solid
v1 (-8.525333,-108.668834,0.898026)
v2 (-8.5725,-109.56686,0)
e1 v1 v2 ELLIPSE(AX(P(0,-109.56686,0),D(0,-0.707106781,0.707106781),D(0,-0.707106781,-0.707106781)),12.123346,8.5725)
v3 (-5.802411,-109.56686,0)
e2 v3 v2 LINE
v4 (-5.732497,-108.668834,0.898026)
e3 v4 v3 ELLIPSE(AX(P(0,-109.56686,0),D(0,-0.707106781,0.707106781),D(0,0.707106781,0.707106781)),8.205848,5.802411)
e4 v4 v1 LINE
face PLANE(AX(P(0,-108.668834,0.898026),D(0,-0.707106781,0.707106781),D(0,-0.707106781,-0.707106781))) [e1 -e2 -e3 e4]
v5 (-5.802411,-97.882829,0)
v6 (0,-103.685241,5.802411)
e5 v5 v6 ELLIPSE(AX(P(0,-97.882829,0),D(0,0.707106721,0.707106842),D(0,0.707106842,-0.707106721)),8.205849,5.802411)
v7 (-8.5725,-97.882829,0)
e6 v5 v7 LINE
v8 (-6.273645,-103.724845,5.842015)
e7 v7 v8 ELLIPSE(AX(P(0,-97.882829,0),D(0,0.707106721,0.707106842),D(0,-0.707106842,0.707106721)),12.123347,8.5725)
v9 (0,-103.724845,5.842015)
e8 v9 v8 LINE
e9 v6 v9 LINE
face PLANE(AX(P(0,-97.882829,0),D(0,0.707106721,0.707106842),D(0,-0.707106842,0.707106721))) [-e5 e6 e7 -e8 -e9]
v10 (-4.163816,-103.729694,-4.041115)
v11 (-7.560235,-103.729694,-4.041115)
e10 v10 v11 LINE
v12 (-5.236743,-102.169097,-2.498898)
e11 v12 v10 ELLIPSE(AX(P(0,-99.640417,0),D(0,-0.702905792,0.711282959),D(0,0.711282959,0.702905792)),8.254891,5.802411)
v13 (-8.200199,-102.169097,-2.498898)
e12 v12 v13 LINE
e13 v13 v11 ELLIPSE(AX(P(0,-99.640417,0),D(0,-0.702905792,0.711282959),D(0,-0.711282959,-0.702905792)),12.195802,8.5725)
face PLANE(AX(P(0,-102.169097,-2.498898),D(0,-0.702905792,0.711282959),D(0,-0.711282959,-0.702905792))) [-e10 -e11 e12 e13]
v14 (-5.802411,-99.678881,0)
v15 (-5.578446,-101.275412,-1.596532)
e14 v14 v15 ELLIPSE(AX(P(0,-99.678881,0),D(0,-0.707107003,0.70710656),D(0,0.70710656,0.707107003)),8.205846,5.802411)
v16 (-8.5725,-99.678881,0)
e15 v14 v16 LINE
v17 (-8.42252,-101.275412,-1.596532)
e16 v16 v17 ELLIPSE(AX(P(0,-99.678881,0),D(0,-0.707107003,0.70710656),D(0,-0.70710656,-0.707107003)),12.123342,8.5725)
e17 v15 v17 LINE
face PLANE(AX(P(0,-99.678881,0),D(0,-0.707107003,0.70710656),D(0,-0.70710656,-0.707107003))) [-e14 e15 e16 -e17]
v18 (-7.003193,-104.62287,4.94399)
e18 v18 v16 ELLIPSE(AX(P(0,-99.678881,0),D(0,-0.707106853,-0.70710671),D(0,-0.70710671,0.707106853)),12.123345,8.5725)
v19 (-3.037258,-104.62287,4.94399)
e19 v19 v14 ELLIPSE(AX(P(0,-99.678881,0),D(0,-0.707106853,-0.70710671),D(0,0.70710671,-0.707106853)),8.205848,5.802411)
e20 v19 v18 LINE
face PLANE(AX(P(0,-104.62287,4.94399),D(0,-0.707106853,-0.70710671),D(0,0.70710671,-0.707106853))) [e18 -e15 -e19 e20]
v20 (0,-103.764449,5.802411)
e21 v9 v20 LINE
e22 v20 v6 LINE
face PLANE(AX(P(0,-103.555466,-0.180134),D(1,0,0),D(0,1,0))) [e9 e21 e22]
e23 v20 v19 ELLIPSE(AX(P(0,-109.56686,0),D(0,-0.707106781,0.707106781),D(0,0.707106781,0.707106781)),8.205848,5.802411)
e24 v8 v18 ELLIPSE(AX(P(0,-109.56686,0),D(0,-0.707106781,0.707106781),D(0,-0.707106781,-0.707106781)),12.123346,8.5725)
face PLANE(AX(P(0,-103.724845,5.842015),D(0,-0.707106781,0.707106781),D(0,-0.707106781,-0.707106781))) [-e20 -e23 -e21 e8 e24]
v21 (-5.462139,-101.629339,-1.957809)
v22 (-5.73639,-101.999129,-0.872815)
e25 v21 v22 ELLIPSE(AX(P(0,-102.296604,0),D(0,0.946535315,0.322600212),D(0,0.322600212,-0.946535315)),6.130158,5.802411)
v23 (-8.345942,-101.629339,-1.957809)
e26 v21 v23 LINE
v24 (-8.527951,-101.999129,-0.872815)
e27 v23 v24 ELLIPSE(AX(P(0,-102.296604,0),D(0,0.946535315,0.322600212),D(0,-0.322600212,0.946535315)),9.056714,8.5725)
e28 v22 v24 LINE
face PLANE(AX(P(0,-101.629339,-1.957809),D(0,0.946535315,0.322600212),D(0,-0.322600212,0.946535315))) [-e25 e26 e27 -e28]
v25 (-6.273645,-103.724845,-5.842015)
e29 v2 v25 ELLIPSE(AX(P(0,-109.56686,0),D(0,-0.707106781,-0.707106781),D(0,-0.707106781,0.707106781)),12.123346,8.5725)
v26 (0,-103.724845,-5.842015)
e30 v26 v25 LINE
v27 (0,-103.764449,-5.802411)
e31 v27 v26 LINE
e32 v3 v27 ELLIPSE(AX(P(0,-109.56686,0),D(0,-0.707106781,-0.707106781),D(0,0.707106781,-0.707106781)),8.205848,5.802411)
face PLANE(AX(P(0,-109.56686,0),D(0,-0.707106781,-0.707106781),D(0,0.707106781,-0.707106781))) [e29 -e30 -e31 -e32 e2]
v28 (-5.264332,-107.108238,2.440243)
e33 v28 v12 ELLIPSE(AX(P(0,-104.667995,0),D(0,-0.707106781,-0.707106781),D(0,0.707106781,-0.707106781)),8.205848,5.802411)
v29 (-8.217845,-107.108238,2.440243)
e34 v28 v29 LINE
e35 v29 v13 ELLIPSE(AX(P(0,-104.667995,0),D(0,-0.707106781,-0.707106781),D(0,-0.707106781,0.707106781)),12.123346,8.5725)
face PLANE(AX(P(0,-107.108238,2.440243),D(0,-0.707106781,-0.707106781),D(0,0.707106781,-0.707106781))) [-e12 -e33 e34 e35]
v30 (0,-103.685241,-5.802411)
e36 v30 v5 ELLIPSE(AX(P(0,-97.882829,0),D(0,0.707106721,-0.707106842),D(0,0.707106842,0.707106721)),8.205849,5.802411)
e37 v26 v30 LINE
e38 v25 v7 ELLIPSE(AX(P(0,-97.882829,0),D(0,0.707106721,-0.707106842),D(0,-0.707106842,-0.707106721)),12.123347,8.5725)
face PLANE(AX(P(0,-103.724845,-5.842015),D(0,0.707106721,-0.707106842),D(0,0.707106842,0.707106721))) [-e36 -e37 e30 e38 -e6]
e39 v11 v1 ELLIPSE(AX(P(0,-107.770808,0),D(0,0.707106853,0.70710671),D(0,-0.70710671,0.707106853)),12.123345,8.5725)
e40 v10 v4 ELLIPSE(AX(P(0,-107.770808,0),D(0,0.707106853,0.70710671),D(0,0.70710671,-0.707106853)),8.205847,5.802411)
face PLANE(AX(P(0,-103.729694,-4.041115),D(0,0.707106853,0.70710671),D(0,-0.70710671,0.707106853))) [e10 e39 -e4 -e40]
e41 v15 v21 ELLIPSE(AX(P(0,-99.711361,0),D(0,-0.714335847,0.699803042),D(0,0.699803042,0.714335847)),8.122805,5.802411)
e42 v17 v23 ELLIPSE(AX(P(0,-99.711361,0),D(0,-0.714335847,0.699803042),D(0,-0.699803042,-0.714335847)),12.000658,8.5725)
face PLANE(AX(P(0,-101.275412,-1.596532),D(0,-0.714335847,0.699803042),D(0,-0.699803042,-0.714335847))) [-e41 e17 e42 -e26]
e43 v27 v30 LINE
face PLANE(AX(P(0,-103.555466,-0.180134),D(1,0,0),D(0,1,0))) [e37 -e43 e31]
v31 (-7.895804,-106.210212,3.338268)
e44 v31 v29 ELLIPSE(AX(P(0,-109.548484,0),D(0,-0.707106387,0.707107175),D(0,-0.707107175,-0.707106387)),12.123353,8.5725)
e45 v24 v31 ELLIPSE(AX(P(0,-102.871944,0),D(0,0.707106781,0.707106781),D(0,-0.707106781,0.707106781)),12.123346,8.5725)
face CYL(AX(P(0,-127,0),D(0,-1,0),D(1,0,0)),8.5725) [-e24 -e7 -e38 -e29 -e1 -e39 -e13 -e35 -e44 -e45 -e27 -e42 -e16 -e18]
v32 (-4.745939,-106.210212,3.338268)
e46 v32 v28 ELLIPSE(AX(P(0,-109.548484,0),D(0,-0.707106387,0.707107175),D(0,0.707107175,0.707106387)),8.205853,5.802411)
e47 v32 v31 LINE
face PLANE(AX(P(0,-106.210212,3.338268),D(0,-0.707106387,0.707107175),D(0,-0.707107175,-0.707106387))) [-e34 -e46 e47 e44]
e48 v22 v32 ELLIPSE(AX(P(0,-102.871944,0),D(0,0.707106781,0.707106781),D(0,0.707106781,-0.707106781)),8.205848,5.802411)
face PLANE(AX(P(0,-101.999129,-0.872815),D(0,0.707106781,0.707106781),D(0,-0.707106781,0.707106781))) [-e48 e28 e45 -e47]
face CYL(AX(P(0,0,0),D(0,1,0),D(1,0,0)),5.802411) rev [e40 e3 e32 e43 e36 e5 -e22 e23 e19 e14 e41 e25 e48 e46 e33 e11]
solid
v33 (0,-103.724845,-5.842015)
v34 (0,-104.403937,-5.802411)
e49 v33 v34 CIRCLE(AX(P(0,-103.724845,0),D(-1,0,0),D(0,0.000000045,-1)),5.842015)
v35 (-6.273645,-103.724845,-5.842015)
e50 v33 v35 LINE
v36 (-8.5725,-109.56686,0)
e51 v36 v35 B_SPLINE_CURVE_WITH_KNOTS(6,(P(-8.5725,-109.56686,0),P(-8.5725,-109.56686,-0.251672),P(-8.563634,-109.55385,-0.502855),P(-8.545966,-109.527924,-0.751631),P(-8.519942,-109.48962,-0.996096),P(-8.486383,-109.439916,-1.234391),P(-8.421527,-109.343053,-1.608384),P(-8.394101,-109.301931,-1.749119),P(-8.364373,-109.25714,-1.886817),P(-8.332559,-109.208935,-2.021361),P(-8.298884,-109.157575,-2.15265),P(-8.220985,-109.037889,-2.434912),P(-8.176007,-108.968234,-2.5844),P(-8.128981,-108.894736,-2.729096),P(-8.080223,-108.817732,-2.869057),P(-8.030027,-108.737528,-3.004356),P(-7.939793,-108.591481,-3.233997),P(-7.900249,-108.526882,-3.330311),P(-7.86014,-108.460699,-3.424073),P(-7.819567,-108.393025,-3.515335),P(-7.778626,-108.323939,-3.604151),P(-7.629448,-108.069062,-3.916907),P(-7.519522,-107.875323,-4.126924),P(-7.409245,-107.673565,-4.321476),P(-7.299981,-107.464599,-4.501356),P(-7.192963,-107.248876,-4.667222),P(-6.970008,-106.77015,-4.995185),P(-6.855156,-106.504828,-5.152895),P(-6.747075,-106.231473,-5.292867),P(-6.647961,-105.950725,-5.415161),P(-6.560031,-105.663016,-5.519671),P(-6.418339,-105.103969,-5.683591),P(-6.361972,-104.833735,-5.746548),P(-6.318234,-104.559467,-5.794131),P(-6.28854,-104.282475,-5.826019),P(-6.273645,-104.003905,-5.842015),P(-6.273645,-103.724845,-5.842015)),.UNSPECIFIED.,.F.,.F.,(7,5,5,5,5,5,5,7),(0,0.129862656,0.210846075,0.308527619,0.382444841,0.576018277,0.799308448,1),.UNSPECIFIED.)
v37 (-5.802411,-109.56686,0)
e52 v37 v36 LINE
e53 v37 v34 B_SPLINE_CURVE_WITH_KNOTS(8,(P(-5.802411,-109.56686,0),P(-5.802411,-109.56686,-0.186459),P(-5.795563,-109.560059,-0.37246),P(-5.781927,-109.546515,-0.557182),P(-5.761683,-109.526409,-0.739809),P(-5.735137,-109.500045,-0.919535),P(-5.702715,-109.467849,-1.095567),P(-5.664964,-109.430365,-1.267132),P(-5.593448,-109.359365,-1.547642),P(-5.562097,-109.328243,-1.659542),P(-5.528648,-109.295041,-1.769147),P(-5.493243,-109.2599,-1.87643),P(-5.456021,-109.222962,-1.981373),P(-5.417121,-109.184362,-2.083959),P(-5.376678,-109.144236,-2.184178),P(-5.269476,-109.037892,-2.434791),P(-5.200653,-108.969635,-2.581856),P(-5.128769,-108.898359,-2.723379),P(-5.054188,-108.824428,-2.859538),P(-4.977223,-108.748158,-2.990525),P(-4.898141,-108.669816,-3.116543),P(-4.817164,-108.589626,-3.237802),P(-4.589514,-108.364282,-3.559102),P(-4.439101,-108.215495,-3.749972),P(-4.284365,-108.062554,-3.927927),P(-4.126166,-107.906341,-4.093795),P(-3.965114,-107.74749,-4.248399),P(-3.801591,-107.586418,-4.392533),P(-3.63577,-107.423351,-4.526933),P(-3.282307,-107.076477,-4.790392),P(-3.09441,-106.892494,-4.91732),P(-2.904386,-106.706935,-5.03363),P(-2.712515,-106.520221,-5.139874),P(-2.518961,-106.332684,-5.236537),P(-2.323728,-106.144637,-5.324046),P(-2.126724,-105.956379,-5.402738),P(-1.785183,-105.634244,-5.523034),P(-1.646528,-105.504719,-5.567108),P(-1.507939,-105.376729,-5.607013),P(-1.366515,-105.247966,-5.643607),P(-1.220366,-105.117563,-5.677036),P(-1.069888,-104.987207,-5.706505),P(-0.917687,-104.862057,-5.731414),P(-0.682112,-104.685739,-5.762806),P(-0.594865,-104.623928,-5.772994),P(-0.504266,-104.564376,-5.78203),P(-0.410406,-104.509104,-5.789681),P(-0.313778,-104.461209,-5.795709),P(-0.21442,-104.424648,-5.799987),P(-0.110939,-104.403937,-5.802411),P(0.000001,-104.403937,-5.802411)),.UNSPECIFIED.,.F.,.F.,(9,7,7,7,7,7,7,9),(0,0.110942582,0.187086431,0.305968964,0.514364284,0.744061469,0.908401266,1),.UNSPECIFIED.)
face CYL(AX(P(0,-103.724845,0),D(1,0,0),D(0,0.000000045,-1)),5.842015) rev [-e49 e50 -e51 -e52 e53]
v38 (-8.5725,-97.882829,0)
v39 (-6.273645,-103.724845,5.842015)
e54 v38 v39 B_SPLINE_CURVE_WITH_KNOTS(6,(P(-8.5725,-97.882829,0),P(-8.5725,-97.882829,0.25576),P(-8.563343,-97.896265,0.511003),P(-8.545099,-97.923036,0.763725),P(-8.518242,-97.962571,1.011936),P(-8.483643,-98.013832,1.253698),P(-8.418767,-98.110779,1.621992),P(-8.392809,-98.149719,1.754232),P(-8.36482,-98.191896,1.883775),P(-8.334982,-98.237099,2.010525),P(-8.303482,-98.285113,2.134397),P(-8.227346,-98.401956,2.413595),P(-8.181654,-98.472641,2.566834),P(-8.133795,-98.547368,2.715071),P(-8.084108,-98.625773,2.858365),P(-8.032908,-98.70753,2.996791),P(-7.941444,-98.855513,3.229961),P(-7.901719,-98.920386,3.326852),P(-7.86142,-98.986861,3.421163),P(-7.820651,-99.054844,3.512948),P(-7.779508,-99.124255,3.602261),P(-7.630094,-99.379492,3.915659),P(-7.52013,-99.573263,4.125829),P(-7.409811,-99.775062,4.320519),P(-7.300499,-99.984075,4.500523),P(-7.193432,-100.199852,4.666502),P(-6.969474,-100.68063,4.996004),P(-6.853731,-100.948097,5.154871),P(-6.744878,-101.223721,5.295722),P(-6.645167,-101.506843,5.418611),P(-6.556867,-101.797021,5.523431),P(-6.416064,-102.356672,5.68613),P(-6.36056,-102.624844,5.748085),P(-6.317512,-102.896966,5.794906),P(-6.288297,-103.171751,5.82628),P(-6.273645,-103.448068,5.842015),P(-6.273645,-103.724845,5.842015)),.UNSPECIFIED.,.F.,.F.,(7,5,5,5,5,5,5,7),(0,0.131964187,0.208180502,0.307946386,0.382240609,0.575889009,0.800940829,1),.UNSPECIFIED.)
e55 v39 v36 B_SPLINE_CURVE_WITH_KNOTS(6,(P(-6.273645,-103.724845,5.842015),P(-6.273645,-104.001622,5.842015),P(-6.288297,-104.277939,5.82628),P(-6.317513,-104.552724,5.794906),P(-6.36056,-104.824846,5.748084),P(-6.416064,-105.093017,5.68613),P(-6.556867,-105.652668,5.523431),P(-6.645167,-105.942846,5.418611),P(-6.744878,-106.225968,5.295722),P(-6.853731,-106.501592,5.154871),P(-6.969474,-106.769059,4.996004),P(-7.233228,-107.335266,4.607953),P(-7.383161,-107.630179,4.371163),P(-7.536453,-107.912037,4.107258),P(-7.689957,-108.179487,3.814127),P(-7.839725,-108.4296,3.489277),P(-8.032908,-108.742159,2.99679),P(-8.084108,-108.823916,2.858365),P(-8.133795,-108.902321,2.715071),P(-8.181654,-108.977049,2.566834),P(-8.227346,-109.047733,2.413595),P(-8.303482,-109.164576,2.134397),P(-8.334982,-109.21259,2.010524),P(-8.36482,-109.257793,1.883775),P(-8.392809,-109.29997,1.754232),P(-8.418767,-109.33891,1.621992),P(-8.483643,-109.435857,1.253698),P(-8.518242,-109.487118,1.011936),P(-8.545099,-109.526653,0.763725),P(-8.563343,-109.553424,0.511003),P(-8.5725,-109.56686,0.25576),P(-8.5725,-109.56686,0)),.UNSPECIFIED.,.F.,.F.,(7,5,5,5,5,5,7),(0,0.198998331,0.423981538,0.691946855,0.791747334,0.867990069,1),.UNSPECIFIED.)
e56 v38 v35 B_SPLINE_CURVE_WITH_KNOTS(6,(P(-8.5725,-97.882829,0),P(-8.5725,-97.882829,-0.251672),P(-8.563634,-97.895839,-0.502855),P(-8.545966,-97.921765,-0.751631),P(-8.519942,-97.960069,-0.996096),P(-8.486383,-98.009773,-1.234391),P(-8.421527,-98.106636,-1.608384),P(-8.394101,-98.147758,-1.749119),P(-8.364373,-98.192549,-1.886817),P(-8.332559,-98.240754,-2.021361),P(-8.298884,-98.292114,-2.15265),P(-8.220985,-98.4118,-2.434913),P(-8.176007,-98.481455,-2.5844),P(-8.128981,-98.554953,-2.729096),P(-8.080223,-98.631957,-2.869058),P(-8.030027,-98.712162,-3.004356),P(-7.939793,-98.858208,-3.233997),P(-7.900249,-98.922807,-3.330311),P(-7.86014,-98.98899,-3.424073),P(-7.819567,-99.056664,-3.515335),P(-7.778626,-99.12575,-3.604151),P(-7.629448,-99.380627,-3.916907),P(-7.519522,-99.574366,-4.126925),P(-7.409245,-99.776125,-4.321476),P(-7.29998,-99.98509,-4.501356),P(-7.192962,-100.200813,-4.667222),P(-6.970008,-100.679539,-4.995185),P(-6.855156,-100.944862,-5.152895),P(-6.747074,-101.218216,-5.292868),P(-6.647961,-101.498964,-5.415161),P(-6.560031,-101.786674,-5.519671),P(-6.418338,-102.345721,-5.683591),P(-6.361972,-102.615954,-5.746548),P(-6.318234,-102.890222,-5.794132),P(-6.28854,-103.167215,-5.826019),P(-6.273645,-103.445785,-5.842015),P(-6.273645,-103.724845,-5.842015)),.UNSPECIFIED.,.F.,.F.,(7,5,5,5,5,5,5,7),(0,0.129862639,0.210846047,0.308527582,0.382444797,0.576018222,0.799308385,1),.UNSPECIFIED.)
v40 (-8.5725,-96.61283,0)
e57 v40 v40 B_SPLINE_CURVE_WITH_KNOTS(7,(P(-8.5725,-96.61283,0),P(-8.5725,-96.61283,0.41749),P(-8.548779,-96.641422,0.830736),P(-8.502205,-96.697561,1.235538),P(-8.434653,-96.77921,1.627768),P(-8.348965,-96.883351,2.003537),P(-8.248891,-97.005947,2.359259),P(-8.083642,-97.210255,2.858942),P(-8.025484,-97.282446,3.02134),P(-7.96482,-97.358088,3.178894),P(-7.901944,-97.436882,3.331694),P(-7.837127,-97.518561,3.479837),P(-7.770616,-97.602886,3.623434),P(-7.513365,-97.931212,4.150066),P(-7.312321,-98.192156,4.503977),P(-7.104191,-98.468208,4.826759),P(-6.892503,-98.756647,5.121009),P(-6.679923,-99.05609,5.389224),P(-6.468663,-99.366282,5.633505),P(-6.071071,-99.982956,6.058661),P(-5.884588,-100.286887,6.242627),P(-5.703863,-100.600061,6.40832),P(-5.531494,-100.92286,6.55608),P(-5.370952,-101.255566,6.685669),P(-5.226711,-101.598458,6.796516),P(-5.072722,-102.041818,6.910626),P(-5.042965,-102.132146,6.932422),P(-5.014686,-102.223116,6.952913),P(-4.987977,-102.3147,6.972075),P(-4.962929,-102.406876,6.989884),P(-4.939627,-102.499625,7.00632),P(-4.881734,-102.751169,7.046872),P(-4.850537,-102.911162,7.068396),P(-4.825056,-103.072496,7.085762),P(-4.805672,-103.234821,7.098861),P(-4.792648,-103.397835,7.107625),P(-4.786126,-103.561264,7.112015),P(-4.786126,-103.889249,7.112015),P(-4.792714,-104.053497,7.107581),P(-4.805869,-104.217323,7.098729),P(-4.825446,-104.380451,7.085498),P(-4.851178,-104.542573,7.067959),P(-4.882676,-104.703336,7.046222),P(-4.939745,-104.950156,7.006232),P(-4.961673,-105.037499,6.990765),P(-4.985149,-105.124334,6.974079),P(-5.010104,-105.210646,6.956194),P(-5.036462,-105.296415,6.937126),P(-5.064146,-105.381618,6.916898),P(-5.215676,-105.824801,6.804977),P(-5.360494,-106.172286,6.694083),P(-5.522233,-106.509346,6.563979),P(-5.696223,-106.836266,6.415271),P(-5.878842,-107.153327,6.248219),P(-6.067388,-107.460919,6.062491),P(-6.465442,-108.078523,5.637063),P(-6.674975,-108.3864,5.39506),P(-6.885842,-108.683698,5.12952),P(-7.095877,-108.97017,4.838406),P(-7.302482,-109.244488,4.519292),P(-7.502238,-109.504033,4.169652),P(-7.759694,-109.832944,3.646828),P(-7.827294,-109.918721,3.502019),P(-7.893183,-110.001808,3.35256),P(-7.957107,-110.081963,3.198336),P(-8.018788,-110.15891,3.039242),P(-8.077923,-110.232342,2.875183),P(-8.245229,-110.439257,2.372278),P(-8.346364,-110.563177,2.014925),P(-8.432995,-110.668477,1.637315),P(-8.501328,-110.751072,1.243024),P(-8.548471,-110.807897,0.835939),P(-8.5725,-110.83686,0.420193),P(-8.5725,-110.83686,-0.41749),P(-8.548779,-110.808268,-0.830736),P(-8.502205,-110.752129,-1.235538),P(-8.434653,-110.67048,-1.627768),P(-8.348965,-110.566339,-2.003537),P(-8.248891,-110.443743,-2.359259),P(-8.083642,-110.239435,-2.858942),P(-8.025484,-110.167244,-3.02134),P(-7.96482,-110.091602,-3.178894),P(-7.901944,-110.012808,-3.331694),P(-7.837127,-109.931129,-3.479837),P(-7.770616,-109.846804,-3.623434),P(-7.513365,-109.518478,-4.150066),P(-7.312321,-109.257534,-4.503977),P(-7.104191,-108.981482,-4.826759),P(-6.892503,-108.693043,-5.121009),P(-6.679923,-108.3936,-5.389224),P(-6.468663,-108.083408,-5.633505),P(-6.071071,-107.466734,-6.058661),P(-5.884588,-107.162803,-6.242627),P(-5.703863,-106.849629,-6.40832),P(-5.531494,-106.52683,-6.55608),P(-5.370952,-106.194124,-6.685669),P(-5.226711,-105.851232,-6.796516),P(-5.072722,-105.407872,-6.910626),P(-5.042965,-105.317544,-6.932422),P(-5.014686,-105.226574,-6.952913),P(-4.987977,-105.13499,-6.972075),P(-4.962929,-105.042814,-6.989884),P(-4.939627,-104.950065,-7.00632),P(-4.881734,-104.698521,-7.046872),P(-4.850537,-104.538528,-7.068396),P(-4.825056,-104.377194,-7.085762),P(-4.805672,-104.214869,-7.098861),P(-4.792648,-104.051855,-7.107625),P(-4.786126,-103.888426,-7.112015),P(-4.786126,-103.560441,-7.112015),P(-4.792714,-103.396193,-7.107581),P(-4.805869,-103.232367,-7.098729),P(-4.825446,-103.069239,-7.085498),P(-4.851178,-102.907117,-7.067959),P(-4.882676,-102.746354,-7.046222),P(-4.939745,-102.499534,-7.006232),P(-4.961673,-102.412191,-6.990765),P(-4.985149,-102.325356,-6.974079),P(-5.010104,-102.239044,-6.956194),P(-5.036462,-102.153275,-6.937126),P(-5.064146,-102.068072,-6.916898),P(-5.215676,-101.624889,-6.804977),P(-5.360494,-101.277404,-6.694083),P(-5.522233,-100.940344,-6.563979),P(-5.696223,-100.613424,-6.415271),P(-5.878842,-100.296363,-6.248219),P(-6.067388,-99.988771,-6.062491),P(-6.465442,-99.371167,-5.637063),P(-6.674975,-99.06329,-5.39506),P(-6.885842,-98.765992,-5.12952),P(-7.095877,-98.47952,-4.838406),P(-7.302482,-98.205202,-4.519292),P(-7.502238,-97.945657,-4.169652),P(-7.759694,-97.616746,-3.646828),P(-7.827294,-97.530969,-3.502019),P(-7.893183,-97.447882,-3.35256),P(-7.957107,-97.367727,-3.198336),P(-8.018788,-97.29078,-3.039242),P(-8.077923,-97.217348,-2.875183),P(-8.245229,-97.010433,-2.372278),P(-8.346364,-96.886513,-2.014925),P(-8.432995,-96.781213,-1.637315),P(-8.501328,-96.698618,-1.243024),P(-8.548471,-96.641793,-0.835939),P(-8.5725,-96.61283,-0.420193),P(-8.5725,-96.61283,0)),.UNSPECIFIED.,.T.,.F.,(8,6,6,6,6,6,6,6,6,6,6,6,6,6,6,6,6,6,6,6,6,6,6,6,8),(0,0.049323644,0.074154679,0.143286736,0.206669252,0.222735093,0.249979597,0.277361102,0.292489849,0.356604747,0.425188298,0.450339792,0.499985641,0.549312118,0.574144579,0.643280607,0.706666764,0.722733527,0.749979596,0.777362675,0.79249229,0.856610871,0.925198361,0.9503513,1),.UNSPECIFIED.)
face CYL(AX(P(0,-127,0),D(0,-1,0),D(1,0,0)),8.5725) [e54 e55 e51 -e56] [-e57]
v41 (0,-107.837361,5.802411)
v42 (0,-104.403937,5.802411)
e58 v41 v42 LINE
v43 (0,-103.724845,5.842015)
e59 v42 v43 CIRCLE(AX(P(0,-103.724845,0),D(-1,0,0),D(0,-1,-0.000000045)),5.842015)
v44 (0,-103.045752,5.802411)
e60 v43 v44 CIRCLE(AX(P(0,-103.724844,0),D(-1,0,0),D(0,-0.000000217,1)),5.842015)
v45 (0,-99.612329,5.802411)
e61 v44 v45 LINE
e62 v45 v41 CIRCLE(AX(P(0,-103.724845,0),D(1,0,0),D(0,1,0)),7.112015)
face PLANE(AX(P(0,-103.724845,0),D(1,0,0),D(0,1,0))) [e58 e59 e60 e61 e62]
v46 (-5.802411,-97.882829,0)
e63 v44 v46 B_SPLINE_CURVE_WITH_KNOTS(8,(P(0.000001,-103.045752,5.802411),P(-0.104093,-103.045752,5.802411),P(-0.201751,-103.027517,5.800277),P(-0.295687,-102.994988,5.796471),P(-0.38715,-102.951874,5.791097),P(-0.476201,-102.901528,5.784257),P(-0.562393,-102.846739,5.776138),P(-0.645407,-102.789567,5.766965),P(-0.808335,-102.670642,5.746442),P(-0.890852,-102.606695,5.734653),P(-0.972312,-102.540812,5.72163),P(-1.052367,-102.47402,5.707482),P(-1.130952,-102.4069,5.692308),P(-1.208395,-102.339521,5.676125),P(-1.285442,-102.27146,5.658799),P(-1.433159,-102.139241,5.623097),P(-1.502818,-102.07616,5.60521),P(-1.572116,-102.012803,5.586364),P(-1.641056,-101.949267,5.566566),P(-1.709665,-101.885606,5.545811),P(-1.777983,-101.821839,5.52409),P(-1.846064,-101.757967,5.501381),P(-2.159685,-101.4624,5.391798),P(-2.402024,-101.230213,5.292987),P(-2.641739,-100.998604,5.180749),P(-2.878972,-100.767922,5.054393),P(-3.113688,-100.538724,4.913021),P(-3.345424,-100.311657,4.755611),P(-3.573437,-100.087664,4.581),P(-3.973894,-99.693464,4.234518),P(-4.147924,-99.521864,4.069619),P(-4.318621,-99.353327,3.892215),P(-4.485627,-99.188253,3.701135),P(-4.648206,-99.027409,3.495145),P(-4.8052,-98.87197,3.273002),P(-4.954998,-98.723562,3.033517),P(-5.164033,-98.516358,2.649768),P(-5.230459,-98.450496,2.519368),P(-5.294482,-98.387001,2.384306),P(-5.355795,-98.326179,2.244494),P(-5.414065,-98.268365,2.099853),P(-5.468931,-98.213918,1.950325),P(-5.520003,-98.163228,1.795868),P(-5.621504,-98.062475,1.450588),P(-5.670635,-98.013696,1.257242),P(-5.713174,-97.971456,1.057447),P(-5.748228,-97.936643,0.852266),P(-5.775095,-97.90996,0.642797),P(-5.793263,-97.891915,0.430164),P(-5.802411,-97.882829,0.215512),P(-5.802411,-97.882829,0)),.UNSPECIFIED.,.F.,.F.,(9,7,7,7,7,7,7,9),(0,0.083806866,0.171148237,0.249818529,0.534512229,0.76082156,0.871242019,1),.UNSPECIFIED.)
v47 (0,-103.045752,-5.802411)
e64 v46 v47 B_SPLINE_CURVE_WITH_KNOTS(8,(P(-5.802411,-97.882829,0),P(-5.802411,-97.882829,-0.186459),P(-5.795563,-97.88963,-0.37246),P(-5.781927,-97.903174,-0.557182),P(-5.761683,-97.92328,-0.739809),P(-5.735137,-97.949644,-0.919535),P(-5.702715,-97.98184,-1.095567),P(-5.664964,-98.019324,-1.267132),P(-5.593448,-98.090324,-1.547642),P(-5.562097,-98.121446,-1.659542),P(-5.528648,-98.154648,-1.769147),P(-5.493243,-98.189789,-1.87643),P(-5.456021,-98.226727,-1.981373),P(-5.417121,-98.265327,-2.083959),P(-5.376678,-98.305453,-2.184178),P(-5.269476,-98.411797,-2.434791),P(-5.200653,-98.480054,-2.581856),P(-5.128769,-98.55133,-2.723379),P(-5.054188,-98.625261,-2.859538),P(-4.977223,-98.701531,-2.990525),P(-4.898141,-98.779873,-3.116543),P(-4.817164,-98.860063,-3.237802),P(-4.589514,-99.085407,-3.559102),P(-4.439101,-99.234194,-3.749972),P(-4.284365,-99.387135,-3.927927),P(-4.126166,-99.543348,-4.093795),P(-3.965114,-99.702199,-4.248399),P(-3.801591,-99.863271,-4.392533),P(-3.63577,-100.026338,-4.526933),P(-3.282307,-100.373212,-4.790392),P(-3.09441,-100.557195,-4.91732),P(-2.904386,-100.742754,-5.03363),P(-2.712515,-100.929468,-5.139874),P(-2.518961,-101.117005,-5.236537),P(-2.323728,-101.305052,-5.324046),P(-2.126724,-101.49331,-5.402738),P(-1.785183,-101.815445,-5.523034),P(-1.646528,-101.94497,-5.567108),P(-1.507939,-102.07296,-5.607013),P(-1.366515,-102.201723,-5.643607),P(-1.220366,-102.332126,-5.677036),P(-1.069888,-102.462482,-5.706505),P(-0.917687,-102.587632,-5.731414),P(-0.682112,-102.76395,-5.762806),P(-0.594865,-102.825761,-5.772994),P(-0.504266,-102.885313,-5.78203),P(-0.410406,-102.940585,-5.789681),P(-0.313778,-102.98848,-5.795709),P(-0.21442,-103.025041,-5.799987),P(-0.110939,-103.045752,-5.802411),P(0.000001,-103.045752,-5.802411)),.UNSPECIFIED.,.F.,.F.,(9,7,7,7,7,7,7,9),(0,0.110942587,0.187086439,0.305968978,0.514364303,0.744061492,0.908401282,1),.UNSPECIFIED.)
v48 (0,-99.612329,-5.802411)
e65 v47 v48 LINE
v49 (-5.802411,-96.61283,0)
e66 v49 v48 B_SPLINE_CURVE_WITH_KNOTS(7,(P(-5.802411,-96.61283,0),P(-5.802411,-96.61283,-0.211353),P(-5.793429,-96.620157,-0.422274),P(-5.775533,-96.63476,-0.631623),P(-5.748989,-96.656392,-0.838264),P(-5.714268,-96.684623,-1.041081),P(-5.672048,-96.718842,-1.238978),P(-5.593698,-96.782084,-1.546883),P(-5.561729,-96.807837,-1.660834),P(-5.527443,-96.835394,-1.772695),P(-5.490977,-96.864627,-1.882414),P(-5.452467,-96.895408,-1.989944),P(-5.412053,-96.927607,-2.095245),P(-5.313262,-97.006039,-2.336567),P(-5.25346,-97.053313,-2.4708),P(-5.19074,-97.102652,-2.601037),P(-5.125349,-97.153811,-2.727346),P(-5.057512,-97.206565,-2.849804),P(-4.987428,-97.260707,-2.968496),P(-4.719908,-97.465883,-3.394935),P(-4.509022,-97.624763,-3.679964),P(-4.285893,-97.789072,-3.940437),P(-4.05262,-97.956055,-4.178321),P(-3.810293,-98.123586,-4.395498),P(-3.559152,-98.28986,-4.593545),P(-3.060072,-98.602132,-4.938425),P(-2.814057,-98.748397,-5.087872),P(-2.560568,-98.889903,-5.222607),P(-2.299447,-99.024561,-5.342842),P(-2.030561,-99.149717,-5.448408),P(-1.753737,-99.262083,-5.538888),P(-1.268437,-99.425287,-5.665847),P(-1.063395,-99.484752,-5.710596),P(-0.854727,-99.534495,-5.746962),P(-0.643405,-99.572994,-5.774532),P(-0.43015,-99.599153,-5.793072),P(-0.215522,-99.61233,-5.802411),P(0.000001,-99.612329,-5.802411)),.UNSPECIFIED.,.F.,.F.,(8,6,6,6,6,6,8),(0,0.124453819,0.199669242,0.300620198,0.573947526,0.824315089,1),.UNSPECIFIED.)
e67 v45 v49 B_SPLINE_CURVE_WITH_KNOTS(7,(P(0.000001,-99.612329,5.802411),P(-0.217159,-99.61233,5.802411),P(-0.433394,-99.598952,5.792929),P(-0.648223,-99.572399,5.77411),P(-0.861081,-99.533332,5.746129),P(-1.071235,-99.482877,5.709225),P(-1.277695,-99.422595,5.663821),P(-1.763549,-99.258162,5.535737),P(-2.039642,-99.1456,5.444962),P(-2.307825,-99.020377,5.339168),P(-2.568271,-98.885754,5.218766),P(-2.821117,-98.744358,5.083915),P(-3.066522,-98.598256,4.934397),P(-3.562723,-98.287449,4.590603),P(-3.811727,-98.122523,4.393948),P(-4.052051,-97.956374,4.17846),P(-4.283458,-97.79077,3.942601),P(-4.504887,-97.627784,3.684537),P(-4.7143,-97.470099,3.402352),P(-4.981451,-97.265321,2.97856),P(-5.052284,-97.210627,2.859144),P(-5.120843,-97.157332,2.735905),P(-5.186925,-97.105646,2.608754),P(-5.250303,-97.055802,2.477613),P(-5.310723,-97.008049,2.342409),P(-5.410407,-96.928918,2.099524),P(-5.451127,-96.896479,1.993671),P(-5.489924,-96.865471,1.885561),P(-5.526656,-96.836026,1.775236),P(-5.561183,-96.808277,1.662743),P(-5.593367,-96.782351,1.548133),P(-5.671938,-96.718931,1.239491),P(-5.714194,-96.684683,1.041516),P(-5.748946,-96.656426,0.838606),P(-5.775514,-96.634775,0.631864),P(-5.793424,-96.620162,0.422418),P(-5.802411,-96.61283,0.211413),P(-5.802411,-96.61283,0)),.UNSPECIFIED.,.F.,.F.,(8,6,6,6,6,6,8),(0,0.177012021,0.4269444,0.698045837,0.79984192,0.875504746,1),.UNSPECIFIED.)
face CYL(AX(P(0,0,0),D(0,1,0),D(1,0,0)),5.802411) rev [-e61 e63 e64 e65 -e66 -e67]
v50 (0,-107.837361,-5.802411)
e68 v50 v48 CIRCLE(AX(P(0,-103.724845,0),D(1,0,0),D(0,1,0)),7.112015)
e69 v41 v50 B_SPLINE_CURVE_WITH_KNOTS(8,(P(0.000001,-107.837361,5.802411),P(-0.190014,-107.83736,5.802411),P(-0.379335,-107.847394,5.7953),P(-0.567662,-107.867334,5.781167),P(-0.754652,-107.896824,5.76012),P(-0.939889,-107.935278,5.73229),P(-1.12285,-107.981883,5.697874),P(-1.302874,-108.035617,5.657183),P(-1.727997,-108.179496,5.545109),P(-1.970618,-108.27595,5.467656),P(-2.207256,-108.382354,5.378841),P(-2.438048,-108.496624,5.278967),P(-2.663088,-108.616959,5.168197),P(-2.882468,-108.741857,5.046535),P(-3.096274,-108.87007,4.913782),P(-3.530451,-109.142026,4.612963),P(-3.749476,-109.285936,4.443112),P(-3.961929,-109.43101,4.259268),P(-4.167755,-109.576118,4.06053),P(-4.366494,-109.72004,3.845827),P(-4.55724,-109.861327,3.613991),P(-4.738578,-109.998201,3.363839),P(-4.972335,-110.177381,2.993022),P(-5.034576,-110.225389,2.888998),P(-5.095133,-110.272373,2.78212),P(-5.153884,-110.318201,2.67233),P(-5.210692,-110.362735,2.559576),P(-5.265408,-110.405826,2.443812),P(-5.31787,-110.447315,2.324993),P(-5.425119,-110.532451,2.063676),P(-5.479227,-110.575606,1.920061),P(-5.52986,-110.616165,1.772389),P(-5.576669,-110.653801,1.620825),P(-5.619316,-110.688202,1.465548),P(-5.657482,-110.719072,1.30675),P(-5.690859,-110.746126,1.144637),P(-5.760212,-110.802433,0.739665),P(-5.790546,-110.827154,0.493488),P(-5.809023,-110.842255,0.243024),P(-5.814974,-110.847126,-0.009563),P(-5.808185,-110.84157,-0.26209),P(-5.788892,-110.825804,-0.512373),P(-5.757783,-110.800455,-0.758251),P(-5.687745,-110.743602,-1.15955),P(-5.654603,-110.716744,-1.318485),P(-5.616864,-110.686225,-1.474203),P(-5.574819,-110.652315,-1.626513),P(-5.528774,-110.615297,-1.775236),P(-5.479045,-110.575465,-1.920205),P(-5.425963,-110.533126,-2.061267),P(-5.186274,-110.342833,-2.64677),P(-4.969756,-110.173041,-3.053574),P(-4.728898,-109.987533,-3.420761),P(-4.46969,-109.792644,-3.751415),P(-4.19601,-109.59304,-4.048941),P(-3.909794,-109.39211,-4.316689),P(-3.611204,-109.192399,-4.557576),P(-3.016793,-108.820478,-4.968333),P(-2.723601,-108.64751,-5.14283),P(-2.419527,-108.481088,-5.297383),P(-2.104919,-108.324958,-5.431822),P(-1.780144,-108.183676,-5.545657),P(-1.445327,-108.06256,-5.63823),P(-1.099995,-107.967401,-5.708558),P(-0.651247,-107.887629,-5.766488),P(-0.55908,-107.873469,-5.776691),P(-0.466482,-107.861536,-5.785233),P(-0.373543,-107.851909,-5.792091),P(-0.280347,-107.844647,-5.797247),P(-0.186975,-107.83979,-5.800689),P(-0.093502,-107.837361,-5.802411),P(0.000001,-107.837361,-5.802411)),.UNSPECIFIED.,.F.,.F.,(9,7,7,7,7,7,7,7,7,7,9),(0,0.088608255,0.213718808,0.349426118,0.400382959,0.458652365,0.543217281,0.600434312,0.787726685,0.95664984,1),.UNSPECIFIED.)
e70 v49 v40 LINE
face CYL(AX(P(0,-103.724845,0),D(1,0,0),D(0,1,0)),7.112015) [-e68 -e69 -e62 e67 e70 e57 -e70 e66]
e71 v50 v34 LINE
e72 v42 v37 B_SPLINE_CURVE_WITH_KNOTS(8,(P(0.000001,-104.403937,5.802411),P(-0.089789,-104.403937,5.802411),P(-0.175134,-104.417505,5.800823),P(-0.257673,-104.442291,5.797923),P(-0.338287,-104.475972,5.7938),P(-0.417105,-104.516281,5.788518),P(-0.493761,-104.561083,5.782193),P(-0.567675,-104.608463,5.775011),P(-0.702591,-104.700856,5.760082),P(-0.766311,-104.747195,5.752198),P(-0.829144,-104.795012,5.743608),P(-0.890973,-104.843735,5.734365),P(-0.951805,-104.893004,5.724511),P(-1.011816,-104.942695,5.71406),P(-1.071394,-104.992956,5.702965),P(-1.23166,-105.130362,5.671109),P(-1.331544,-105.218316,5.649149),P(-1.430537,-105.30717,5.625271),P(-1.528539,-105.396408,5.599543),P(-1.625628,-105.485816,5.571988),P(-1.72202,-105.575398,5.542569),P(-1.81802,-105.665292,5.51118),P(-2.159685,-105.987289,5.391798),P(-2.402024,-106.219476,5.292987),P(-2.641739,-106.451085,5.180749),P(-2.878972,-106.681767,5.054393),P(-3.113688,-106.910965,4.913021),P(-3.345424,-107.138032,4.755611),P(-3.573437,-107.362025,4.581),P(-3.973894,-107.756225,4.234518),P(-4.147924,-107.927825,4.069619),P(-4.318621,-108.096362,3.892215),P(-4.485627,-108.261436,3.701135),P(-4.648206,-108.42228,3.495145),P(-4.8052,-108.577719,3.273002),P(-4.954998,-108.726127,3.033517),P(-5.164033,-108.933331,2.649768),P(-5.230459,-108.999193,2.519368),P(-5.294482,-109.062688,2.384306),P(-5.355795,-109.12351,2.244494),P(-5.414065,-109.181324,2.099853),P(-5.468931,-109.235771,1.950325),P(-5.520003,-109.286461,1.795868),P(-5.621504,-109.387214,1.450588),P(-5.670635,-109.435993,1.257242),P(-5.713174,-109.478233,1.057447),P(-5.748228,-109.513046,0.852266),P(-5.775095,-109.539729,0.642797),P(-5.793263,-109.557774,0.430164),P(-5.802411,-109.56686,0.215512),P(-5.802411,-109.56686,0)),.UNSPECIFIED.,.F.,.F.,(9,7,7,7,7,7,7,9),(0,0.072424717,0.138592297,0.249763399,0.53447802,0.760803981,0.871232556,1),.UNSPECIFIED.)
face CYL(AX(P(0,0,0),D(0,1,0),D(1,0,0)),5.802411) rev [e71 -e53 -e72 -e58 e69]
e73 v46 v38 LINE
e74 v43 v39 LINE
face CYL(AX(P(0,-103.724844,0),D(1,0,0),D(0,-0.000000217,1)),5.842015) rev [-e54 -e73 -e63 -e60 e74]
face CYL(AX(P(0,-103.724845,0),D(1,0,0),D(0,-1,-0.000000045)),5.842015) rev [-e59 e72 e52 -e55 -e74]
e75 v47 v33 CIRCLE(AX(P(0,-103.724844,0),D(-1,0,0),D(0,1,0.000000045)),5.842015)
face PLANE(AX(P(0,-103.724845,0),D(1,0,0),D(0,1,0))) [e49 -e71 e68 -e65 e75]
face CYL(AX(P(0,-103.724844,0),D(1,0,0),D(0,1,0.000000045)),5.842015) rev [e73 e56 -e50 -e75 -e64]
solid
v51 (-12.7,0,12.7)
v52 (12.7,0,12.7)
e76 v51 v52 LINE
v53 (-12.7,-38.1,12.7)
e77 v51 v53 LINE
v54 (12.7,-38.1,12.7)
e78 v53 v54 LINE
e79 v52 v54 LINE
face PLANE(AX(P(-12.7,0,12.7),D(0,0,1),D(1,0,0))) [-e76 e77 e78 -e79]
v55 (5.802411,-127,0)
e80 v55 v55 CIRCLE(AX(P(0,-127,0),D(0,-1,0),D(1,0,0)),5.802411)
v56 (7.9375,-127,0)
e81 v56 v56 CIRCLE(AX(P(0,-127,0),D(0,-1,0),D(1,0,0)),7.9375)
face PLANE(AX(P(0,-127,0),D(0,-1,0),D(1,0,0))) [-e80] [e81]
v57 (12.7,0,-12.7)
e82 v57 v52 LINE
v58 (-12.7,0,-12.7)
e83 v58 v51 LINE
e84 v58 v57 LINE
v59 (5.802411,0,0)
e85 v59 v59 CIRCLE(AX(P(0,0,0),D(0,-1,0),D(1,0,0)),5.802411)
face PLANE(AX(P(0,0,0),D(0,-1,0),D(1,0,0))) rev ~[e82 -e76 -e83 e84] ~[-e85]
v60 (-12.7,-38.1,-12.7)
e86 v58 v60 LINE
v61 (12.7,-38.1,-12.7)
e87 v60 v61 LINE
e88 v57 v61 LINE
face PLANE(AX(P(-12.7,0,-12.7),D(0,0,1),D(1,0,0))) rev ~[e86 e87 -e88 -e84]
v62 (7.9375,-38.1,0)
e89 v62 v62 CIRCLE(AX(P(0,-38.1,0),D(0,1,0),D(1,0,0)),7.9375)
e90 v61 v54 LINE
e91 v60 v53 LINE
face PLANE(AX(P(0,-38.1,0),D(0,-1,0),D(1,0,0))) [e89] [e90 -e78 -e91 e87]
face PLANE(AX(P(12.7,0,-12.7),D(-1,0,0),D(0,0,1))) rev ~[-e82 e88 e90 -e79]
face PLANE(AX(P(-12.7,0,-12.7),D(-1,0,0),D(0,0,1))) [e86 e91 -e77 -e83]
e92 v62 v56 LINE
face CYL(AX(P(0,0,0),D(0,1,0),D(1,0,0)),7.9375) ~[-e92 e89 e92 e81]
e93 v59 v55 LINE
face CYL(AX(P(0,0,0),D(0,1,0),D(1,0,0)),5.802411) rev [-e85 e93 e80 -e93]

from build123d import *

# Parameters (mm, degrees)
F0_W     = 25.4
F0_H     = 25.4
F0_R     = 7.9375
F0_R_2   = 5.802411
F1_DEPTH = 38.1
F2_DEPTH = 127
F3_R     = 7.112015
F4_DEPTH = 12.7
F6_R     = 29.398476
F6_R_2   = 8.5725
F7_DEPTH = 32.766
F8_DEPTH = 152.4


with BuildPart() as f1:
    # F0 (on Front) → F1 (new body)
    with BuildSketch(Plane.XZ):
        Rectangle(F0_W, F0_H)
        Circle(F0_R, mode=Mode.SUBTRACT)
        Circle(F0_R)
        Circle(F0_R_2, mode=Mode.SUBTRACT)
    extrude(amount=F1_DEPTH)

    # F0 (on Front) → F2 (join)
    with BuildSketch(Plane.XZ):
        Circle(F0_R)
        Circle(F0_R_2, mode=Mode.SUBTRACT)
    extrude(amount=F2_DEPTH)


with BuildPart() as f4:
    # F3 (on Right) → F4 (new body)
    with BuildSketch(Plane.YZ):
        with Locations((-103.724845, 0)):
            Circle(F3_R)
        with BuildLine():
            ThreePointArc((-103.724845, 5.842015), (-99.593916, 4.130929), (-97.882829, 0))
            ThreePointArc((-97.882829, 0), (-99.593916, -4.130929), (-103.724845, -5.842015))
            ThreePointArc((-103.724845, -5.842015), (-107.855773, -4.130929), (-109.56686, 0))
            ThreePointArc((-109.56686, 0), (-107.855773, 4.130929), (-103.724845, 5.842015))
        make_face(mode=Mode.SUBTRACT)
        Polygon((-103.724845, -5.842015), (-97.882829, 0), (-103.724845, 5.842015), (-104.62287, 4.94399), (-99.678881, 0), (-101.275412, -1.596532), (-101.629339, -1.957809), (-101.999129, -0.872815), (-106.210212, 3.338268), (-107.108238, 2.440243), (-102.169097, -2.498898), (-103.729694, -4.041115), (-108.668834, 0.898026), (-109.56686, 0), align=None)
    extrude(amount=-F4_DEPTH)

    # F6 (on face) → F7 (cut)
    with BuildSketch(Plane.XZ.offset(127)):
        Circle(F6_R)
        Circle(F6_R_2, mode=Mode.SUBTRACT)
    extrude(amount=-F7_DEPTH, mode=Mode.SUBTRACT)

    # F0 (on Front) → F8 (cut)
    with BuildSketch(Plane.XZ):
        Circle(F0_R_2)
    extrude(amount=F8_DEPTH, mode=Mode.SUBTRACT)


solid = Compound([f1.part, f4.part])
